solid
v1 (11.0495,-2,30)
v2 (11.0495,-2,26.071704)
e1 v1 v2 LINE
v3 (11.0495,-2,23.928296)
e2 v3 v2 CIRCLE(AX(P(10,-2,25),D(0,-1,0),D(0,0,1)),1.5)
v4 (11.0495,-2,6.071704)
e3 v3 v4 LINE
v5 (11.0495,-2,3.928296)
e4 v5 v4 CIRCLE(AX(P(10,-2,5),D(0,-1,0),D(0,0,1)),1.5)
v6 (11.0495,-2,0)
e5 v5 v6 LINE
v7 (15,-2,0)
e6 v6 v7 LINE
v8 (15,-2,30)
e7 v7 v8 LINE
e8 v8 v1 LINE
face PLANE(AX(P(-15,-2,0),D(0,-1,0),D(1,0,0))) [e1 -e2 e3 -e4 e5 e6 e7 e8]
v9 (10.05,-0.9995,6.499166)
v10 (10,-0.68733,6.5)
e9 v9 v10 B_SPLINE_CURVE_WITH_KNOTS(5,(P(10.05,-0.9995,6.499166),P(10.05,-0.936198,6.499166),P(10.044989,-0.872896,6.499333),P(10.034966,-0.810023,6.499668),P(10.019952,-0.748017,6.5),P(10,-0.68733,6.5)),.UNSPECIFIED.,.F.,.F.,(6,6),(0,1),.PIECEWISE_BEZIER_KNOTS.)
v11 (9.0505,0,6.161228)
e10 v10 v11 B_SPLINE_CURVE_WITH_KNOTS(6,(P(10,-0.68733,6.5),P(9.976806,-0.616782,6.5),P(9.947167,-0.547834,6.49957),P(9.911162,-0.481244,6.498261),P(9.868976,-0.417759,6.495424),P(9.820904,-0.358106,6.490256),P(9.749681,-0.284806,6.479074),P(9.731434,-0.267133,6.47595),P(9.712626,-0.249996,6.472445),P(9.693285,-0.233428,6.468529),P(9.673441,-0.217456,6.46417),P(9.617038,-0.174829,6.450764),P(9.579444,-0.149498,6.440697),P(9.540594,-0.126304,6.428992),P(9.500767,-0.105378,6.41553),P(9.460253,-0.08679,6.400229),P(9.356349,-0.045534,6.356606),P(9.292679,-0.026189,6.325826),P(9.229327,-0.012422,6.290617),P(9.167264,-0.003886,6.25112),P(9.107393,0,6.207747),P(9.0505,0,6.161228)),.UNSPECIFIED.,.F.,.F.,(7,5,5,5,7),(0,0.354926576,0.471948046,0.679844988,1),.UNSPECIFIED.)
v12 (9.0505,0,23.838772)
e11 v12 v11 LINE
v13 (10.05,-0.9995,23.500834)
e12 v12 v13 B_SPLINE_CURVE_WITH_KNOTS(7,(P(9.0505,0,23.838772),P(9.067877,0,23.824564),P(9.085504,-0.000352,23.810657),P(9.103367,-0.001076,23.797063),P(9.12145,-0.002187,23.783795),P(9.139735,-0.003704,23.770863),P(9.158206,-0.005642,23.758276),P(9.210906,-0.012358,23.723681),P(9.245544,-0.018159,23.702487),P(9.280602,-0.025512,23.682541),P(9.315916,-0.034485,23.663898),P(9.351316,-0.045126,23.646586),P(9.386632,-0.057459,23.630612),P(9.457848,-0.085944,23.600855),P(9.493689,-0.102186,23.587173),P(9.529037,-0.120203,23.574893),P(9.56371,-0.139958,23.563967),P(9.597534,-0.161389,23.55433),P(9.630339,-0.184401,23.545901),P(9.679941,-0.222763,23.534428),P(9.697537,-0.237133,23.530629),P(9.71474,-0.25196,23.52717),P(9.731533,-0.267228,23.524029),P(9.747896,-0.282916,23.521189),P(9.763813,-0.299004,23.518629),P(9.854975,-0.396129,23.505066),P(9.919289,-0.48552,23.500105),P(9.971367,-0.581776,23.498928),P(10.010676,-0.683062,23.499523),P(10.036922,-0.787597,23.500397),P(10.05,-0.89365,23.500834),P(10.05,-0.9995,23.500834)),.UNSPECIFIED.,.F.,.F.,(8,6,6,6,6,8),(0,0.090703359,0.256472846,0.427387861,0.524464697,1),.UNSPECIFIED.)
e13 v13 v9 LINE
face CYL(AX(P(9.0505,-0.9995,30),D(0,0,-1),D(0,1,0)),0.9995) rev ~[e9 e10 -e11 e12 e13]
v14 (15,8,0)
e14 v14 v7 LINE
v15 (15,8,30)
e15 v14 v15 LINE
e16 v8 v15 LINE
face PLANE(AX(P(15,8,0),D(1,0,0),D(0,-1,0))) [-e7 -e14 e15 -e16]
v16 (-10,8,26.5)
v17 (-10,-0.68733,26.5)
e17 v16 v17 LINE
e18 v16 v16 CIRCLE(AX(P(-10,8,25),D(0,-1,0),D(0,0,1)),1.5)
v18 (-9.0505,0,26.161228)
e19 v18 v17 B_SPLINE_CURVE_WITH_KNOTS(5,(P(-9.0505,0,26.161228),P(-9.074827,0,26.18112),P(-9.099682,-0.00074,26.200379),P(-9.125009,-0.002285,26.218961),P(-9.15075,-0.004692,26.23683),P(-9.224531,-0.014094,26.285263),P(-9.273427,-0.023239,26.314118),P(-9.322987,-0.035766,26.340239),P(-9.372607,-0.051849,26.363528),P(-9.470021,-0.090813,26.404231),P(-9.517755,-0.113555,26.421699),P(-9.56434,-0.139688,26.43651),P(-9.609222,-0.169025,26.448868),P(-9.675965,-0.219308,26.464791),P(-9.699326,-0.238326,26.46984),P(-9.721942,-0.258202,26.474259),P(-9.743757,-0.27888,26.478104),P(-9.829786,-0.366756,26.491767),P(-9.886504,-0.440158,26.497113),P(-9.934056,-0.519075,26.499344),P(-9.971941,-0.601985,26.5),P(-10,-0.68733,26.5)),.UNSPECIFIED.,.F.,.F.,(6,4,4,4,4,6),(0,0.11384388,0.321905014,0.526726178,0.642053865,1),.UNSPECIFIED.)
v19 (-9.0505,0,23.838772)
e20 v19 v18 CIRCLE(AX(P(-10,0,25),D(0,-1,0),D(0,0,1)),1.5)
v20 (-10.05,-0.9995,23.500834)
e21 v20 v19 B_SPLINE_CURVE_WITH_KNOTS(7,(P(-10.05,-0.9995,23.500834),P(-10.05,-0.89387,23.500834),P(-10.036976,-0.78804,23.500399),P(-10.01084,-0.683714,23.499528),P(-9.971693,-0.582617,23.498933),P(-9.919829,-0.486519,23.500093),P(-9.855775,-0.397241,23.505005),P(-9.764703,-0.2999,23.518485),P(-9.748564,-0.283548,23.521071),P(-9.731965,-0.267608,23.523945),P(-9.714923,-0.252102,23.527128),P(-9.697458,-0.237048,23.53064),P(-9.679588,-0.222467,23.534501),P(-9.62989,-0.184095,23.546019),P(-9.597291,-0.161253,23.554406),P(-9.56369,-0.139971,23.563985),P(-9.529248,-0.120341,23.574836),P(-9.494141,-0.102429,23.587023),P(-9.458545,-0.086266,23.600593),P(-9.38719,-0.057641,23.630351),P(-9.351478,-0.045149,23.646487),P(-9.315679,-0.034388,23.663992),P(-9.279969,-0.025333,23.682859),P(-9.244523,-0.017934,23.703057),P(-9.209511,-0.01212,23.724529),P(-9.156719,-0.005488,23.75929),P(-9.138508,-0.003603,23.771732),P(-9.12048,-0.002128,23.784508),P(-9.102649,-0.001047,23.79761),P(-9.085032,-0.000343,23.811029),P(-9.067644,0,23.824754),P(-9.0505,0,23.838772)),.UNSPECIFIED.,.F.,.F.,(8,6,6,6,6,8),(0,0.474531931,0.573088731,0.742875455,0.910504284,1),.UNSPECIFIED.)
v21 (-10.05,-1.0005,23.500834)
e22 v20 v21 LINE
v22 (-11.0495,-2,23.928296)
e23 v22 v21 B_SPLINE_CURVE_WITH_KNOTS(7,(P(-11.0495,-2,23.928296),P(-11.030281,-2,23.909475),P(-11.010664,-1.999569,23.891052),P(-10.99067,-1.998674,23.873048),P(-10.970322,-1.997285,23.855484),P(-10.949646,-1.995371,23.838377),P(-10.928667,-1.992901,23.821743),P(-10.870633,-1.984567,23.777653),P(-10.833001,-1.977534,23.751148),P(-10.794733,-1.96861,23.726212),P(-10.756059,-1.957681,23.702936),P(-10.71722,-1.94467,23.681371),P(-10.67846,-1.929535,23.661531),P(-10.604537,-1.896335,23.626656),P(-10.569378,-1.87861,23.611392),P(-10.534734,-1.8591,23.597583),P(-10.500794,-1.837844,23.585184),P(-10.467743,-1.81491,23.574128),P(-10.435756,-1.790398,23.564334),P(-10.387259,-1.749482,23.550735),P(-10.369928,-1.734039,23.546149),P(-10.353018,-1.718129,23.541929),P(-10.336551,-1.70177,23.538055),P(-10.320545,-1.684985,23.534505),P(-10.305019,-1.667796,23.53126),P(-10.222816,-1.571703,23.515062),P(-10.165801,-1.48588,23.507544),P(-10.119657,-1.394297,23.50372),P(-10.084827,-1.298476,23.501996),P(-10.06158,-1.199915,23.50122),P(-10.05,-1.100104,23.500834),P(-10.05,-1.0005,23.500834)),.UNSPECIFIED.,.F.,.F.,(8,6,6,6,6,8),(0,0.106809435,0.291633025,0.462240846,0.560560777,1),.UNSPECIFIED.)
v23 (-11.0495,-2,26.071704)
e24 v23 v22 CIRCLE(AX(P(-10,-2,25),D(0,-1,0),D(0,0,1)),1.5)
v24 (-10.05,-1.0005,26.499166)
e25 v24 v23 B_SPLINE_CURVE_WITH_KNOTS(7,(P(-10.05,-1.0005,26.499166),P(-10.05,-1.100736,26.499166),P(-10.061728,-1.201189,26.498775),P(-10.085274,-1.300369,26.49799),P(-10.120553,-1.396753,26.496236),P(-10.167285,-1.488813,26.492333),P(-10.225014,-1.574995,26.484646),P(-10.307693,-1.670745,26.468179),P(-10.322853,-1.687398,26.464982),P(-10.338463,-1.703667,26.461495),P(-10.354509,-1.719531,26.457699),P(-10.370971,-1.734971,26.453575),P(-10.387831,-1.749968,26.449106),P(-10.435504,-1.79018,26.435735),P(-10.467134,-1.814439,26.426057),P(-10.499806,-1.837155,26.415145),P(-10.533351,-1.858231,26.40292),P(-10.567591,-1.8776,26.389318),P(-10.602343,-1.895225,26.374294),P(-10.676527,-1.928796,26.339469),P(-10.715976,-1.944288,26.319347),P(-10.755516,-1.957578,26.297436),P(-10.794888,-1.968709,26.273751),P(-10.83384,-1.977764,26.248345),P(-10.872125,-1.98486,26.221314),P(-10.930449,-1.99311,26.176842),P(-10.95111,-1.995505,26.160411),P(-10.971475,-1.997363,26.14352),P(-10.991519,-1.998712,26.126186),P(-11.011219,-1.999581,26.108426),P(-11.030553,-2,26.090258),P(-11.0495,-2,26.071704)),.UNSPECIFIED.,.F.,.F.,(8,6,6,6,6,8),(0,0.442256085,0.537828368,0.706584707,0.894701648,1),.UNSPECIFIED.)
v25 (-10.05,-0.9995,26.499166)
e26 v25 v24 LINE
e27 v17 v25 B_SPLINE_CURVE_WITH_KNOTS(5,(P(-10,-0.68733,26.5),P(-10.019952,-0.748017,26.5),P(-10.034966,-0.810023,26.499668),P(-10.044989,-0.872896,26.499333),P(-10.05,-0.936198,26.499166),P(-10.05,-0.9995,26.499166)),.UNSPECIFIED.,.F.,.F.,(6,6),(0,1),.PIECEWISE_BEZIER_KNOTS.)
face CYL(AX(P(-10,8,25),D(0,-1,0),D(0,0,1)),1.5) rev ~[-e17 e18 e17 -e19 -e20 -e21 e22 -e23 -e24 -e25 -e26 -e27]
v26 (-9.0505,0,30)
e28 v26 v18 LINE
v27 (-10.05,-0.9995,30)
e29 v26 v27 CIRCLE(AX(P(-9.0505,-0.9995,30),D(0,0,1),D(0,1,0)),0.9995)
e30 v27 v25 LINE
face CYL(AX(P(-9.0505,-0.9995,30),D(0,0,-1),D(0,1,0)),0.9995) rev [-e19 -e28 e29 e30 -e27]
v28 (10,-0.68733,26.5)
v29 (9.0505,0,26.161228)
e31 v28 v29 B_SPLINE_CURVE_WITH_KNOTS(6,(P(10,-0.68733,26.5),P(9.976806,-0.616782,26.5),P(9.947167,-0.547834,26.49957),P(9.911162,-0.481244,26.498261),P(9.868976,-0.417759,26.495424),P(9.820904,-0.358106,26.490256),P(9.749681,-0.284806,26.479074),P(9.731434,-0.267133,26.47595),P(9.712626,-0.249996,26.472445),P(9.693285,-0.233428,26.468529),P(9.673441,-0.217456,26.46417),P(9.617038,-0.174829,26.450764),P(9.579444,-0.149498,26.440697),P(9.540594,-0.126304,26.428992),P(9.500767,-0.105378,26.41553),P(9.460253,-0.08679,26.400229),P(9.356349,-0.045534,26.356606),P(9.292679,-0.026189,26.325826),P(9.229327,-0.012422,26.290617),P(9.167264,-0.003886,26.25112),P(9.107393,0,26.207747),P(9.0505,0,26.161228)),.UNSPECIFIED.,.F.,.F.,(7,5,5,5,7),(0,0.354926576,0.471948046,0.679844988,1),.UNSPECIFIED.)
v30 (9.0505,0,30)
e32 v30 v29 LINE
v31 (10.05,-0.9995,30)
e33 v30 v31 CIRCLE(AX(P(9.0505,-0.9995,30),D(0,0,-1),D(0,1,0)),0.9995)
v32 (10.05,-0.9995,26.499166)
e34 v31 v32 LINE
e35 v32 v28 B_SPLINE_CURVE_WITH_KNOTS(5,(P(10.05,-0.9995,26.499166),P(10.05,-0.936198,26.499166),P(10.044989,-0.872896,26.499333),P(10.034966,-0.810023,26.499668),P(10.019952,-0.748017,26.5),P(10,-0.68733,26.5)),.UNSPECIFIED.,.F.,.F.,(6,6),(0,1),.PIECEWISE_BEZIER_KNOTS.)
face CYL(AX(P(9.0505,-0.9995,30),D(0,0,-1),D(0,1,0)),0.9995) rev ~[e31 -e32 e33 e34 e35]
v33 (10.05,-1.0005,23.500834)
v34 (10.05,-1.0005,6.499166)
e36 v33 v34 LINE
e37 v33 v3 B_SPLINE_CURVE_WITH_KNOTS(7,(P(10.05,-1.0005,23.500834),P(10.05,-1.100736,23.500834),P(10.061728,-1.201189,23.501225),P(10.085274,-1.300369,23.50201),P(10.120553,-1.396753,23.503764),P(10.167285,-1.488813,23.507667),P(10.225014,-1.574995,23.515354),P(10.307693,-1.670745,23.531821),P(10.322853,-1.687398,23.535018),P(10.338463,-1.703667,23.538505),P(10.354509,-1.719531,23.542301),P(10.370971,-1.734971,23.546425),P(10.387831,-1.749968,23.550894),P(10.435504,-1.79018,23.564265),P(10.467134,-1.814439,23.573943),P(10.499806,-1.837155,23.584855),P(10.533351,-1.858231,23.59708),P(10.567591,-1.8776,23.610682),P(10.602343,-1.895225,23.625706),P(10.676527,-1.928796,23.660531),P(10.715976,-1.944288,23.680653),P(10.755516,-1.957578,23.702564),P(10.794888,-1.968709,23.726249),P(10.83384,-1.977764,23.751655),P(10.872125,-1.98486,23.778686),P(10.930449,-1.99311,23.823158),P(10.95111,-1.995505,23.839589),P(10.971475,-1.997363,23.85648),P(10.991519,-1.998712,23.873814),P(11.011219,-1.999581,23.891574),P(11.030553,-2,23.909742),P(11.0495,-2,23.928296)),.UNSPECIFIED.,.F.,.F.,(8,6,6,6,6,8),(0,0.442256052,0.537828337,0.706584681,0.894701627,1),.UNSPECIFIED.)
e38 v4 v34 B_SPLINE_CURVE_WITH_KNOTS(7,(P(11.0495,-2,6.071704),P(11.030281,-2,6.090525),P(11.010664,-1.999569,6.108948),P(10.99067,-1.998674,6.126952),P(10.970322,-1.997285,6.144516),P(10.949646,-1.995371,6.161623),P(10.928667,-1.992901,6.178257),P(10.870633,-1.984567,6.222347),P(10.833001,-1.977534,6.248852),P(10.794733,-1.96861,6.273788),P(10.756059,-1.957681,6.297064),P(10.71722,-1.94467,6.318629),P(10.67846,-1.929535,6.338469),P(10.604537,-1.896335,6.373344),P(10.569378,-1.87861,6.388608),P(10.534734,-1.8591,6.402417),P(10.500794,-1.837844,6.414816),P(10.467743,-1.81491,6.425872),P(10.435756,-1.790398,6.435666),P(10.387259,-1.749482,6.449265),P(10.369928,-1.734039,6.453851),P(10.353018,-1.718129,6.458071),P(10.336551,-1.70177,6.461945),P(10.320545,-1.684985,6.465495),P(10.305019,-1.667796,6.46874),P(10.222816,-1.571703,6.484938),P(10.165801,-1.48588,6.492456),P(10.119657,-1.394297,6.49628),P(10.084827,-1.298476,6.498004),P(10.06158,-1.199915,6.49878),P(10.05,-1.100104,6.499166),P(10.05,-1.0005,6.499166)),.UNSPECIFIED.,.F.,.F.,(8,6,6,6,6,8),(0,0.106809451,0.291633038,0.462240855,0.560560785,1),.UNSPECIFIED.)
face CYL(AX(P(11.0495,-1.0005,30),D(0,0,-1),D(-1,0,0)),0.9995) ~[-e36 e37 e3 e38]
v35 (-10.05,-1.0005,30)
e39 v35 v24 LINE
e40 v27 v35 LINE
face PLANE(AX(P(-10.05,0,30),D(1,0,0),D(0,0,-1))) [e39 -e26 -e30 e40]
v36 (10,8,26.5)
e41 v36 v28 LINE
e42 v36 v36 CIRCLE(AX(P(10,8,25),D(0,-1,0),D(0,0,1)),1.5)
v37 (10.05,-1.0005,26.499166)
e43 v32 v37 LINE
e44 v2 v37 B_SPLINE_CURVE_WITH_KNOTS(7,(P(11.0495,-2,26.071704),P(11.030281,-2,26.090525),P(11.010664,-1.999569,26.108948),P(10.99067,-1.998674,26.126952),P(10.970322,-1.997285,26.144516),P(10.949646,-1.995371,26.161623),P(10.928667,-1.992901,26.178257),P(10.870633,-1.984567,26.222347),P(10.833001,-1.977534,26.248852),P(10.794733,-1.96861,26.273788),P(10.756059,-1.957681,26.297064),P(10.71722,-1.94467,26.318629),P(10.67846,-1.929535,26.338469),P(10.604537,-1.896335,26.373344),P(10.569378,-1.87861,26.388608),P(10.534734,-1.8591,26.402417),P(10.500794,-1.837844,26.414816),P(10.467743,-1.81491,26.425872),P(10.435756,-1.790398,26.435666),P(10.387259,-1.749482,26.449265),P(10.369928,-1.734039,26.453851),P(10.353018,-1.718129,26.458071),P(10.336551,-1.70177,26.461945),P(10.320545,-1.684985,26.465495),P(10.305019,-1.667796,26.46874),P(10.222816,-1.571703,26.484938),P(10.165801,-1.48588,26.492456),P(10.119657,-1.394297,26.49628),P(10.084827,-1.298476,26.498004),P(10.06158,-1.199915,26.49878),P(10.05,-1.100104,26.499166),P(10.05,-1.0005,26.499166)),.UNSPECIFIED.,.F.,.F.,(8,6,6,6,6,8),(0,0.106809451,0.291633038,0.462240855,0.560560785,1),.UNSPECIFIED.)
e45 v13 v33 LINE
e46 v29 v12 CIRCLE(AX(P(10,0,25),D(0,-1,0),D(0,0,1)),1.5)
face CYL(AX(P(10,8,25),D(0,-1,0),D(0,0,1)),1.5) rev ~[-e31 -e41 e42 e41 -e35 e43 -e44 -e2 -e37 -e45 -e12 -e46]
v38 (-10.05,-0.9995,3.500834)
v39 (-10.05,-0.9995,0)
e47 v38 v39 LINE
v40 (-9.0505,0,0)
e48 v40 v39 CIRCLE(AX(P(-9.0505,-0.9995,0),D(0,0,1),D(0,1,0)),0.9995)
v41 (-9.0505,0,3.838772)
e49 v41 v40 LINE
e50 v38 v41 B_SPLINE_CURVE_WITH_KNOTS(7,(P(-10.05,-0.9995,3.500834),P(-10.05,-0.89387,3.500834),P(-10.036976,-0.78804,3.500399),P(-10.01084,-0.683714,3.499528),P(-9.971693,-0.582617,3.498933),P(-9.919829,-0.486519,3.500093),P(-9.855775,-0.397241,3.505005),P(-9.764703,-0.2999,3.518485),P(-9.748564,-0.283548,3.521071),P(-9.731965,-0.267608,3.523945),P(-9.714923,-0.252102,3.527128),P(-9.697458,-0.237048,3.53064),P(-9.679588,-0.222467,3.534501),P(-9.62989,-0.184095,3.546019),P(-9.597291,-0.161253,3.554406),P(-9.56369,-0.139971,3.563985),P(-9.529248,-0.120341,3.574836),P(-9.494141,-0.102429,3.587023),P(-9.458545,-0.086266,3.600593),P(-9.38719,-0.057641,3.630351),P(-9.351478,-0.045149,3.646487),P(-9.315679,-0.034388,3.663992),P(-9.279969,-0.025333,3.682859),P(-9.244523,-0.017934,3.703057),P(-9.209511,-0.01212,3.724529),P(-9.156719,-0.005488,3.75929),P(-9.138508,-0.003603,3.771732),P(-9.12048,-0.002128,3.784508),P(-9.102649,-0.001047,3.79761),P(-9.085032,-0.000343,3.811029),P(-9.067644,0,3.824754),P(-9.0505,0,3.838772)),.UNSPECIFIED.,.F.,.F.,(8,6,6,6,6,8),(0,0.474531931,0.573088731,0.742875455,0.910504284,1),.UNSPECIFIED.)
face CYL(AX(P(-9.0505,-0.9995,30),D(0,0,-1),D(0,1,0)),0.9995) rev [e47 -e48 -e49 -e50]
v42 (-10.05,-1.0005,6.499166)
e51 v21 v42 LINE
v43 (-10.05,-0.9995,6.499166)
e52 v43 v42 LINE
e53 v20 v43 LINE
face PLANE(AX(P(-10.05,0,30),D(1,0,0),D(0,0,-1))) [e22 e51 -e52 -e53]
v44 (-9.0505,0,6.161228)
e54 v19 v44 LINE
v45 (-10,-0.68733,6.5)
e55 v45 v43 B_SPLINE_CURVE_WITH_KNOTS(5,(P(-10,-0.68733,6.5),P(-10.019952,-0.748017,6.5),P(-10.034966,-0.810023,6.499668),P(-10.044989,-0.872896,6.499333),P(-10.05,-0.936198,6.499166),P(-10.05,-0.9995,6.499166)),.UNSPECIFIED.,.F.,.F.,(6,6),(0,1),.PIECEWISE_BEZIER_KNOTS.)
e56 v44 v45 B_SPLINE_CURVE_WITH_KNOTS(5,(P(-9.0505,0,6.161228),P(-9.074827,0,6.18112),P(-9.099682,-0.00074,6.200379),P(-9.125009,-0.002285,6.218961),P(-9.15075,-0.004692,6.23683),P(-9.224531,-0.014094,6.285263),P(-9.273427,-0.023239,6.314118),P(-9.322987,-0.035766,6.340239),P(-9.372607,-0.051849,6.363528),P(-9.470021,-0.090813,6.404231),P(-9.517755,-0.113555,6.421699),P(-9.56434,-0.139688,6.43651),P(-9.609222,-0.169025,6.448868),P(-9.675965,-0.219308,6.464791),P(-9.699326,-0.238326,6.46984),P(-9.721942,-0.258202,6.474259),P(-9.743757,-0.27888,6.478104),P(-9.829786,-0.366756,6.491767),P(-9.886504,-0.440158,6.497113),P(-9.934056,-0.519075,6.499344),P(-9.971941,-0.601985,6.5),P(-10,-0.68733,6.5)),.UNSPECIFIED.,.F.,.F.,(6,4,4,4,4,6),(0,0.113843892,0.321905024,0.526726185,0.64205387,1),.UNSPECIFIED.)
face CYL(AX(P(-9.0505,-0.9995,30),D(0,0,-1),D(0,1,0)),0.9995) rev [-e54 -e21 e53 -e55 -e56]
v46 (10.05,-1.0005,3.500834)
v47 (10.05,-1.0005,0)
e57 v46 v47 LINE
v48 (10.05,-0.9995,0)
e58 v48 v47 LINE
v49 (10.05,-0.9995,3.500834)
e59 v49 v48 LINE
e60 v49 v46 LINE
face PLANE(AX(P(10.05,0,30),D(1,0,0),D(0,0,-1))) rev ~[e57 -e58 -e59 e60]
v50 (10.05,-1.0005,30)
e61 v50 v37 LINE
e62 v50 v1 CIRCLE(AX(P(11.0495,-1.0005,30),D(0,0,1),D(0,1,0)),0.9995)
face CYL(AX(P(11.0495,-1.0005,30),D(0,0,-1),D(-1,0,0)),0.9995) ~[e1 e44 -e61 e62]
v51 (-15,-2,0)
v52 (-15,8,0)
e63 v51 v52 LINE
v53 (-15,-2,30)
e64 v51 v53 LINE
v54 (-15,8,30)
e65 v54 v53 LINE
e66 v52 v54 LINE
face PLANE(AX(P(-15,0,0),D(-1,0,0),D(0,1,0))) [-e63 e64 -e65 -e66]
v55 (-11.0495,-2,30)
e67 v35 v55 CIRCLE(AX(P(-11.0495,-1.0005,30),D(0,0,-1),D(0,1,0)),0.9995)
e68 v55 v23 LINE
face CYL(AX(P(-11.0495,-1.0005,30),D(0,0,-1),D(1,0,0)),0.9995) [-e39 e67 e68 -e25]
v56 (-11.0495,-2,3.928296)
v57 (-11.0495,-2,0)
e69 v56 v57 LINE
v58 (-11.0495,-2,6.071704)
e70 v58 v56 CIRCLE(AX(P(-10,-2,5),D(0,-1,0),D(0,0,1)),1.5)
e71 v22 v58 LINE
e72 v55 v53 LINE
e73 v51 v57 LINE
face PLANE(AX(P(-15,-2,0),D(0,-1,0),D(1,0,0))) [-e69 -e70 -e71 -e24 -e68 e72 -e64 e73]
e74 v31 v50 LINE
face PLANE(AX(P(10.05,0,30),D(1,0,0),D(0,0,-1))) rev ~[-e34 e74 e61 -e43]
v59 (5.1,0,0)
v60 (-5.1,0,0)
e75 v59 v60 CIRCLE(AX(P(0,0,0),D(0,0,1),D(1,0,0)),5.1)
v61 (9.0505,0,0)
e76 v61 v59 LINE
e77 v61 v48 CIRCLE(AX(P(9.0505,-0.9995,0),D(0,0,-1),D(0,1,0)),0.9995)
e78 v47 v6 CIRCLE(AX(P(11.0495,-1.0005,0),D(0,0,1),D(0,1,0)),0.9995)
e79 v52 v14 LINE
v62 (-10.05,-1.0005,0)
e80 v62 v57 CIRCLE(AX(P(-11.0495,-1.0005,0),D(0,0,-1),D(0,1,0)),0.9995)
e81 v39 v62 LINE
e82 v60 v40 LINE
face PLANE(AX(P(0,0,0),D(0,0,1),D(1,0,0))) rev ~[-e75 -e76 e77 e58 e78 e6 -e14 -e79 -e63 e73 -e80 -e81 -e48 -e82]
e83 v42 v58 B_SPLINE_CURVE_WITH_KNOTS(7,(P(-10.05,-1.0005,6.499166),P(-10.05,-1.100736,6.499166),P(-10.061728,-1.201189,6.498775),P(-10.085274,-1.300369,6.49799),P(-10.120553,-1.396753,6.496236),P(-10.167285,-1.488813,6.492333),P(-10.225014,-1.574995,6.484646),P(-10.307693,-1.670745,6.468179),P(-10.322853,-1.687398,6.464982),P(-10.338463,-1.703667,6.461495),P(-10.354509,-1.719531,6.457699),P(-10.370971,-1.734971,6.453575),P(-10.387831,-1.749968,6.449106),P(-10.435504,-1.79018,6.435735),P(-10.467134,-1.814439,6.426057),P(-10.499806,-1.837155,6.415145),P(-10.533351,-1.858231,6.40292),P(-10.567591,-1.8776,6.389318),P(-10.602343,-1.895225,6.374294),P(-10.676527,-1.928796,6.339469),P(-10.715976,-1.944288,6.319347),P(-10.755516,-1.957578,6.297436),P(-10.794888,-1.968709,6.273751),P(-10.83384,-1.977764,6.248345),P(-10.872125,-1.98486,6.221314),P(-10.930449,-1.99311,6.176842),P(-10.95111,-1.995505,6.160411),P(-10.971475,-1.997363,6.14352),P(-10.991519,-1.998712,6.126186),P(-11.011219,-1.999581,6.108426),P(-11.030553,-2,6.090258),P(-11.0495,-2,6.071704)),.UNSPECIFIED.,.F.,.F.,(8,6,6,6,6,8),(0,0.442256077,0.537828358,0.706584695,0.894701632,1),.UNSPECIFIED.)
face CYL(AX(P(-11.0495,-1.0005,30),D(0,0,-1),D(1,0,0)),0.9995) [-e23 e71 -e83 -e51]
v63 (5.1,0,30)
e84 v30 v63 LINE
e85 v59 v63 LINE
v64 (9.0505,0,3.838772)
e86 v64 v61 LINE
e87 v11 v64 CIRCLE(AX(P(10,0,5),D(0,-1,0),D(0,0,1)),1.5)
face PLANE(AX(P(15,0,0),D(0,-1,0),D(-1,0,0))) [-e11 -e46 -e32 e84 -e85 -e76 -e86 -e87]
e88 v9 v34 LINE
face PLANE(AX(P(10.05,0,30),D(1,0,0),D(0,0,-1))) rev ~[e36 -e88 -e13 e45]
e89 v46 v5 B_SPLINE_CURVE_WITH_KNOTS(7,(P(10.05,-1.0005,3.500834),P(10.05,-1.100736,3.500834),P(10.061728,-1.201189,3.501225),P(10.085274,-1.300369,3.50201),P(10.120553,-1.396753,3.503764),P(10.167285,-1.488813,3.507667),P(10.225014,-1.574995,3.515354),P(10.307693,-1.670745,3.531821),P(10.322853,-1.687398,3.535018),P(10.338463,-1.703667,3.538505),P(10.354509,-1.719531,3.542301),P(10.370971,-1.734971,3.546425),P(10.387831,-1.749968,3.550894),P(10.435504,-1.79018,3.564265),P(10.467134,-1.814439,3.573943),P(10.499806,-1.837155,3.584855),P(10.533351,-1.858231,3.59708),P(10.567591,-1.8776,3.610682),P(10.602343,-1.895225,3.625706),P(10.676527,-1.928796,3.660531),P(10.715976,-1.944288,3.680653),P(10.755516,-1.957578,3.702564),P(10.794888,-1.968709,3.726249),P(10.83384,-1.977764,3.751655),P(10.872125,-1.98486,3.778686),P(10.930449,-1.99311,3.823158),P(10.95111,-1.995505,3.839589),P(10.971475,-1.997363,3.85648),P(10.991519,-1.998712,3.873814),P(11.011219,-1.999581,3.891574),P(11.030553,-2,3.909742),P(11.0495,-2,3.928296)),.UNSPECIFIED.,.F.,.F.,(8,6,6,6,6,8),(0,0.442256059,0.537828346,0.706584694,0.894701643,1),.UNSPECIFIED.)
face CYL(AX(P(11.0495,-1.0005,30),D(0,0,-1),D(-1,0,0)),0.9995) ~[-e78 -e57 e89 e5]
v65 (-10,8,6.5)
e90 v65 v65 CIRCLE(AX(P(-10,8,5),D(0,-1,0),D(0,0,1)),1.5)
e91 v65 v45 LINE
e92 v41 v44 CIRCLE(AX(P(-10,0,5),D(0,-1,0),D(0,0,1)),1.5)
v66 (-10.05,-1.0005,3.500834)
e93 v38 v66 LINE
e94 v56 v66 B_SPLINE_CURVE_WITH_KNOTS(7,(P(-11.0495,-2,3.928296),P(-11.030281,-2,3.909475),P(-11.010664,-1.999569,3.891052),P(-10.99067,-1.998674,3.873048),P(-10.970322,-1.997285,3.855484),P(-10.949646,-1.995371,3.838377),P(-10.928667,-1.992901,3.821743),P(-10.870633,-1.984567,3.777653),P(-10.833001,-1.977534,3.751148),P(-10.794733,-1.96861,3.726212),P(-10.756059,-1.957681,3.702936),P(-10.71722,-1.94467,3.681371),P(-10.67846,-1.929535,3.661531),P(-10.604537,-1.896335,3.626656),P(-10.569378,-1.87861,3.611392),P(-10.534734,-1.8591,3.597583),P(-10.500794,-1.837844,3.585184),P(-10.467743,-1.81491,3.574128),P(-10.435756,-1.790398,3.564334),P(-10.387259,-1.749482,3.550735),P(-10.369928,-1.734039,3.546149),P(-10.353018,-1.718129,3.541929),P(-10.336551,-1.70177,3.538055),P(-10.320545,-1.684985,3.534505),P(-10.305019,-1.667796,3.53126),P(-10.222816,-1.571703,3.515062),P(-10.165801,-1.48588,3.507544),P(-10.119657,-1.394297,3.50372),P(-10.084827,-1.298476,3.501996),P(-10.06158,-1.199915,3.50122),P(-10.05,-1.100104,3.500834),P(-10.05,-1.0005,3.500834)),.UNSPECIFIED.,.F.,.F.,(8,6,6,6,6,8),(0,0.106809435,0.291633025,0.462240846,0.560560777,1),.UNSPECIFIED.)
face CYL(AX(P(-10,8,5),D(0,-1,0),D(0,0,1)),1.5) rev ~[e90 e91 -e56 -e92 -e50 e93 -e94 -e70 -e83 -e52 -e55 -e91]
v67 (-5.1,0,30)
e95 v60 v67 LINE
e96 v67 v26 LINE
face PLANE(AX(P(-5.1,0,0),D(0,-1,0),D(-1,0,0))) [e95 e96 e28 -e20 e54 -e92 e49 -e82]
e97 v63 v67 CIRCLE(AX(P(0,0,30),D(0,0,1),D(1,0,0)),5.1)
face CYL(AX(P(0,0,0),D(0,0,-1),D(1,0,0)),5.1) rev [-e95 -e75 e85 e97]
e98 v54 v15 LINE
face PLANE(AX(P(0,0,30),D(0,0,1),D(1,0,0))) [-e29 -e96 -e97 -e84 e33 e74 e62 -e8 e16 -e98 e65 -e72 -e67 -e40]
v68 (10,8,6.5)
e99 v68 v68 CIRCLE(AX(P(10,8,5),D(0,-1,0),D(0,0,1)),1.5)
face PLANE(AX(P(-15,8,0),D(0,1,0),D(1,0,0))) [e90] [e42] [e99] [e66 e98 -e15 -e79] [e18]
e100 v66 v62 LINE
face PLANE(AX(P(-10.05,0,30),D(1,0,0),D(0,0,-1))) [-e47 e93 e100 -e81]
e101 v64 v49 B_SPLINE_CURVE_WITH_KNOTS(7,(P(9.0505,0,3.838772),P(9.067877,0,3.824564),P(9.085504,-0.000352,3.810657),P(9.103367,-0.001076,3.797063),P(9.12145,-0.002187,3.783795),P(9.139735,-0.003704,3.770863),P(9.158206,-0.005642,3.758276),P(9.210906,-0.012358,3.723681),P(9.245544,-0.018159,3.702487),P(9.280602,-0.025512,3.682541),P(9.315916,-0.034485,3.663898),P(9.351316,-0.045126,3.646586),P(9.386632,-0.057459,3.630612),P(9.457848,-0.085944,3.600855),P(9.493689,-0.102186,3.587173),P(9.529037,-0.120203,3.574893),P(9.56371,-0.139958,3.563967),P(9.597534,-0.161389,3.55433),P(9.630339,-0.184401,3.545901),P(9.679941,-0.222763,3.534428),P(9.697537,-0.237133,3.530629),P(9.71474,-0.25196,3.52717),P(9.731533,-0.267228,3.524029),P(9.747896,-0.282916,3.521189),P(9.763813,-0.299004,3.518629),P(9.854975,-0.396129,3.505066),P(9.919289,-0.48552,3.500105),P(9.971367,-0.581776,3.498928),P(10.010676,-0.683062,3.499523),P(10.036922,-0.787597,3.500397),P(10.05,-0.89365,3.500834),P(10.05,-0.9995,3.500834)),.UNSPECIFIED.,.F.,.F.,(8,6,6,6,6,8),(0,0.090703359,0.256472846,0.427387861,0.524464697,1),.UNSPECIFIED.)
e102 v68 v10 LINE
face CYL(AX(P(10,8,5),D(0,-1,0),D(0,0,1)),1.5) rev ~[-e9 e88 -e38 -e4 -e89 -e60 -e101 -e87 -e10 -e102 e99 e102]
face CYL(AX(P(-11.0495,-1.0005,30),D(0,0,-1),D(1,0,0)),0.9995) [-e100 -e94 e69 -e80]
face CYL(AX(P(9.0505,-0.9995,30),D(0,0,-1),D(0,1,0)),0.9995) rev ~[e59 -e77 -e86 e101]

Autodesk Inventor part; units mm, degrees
ref_plane "YZ Plane" through (0, 0, 0) normal (1, 0, 0) x (0, 1, 0)
ref_plane "XZ Plane" through (0, 0, 0) normal (0, 1, 0) x (-1, 0, 0)
ref_plane "XY Plane" through (0, 0, 0) normal (0, 0, 1) x (1, 0, 0)
sketch "スケッチ1" plane through (0, 0, 0) normal (0, 0, 1) x (1, 0, 0)
  arc A0 (-5.1, 0) -> (5.1, 0) centre (0, 0) ccw
  line L0 (-15, 8) -> (15, 8)
  line L1 (15, 8) -> (15, 0)
  line L2 (15, 0) -> (5.1, 0)
  line L3 (-15, 0) -> (-15, 8)
  arc A1 (5.1, 0) -> (-5.1, 0) centre (0, 0) ccw
  line L4 (5.1, 0) -> (-5.1, 0)
  line L5 (-5.1, 0) -> (-15, 0)
  dimension "d0" = 10.2
  dimension "d1" = 30
  dimension "d2" = 15
  dimension "d3" = 8
  dimension "d4" = 0
extrude "押し出し1" add sketch "スケッチ1" along normal blind 30 contours L5 L3 L0 L1 L2 A1
sketch "スケッチ2" plane through (-15, 0, 0) normal (0, -1, 0) x (1, 0, 0)
  line L0 (9.9, 30) -> (0, 30) projected
  line L1 (0, 0) -> (9.9, 0) projected
  line L2 (0, 30) -> (4.95, 30)
  line L3 (4.95, 30) -> (4.95, 0)
  line L4 (4.95, 0) -> (0, 0)
  line L5 (0, 0) -> (0, 30)
  line L6 (30, 30) -> (25.05, 30)
  line L7 (25.05, 30) -> (25.05, 0)
  line L8 (25.05, 0) -> (30, 0)
  line L9 (30, 0) -> (30, 30)
  point P0 (15, 0)
  dimension "d7" = 30
  dimension "d8" = 4.95
extrude "押し出し2" add sketch "スケッチ2" along normal blind 2
fillet "フィレット1" radius 1 4 edges at (-10.05, -2, 15) (-10.05, 0, 15) (10.05, 0, 15) (10.05, -2, 15)
sketch "スケッチ3" plane through (-15, 8, 0) normal (0, 1, 0) x (1, 0, 0)
  line L0 (0, -30) -> (30, -30) projected
  line L1 (30, 0) -> (30, -30) projected
  line L2 (30, 0) -> (0, 0) projected
  line L3 (0, 0) -> (0, -30) projected
  point P0 (15, 0)
  point P1 (5, -5)
  point P2 (5, -25)
  point P3 (25, -25)
  point P4 (25, -5)
  dimension "d11" = 5
  dimension "d12" = 5
  dimension "d13" = 5
  dimension "d14" = 5
  dimension "d15" = 5
  dimension "d16" = 5
  dimension "d17" = 5
  dimension "d18" = 5
hole "Hole2" at (-10, 8, 5) at (-10, 8, 25) at (10, 8, 25) at (10, 8, 5) direction (0, -1, 0) diameter 3 end through all
equation "\"d2\" = 0.5 * d1"
equation "\"d12\" = d11"
equation "\"d13\" = d11"
equation "\"d14\" = d13"
equation "\"d15\" = d11"
equation "\"d16\" = d11"
equation "\"d17\" = d11"
equation "\"d18\" = d11"
properties part number "poleHolderA"
